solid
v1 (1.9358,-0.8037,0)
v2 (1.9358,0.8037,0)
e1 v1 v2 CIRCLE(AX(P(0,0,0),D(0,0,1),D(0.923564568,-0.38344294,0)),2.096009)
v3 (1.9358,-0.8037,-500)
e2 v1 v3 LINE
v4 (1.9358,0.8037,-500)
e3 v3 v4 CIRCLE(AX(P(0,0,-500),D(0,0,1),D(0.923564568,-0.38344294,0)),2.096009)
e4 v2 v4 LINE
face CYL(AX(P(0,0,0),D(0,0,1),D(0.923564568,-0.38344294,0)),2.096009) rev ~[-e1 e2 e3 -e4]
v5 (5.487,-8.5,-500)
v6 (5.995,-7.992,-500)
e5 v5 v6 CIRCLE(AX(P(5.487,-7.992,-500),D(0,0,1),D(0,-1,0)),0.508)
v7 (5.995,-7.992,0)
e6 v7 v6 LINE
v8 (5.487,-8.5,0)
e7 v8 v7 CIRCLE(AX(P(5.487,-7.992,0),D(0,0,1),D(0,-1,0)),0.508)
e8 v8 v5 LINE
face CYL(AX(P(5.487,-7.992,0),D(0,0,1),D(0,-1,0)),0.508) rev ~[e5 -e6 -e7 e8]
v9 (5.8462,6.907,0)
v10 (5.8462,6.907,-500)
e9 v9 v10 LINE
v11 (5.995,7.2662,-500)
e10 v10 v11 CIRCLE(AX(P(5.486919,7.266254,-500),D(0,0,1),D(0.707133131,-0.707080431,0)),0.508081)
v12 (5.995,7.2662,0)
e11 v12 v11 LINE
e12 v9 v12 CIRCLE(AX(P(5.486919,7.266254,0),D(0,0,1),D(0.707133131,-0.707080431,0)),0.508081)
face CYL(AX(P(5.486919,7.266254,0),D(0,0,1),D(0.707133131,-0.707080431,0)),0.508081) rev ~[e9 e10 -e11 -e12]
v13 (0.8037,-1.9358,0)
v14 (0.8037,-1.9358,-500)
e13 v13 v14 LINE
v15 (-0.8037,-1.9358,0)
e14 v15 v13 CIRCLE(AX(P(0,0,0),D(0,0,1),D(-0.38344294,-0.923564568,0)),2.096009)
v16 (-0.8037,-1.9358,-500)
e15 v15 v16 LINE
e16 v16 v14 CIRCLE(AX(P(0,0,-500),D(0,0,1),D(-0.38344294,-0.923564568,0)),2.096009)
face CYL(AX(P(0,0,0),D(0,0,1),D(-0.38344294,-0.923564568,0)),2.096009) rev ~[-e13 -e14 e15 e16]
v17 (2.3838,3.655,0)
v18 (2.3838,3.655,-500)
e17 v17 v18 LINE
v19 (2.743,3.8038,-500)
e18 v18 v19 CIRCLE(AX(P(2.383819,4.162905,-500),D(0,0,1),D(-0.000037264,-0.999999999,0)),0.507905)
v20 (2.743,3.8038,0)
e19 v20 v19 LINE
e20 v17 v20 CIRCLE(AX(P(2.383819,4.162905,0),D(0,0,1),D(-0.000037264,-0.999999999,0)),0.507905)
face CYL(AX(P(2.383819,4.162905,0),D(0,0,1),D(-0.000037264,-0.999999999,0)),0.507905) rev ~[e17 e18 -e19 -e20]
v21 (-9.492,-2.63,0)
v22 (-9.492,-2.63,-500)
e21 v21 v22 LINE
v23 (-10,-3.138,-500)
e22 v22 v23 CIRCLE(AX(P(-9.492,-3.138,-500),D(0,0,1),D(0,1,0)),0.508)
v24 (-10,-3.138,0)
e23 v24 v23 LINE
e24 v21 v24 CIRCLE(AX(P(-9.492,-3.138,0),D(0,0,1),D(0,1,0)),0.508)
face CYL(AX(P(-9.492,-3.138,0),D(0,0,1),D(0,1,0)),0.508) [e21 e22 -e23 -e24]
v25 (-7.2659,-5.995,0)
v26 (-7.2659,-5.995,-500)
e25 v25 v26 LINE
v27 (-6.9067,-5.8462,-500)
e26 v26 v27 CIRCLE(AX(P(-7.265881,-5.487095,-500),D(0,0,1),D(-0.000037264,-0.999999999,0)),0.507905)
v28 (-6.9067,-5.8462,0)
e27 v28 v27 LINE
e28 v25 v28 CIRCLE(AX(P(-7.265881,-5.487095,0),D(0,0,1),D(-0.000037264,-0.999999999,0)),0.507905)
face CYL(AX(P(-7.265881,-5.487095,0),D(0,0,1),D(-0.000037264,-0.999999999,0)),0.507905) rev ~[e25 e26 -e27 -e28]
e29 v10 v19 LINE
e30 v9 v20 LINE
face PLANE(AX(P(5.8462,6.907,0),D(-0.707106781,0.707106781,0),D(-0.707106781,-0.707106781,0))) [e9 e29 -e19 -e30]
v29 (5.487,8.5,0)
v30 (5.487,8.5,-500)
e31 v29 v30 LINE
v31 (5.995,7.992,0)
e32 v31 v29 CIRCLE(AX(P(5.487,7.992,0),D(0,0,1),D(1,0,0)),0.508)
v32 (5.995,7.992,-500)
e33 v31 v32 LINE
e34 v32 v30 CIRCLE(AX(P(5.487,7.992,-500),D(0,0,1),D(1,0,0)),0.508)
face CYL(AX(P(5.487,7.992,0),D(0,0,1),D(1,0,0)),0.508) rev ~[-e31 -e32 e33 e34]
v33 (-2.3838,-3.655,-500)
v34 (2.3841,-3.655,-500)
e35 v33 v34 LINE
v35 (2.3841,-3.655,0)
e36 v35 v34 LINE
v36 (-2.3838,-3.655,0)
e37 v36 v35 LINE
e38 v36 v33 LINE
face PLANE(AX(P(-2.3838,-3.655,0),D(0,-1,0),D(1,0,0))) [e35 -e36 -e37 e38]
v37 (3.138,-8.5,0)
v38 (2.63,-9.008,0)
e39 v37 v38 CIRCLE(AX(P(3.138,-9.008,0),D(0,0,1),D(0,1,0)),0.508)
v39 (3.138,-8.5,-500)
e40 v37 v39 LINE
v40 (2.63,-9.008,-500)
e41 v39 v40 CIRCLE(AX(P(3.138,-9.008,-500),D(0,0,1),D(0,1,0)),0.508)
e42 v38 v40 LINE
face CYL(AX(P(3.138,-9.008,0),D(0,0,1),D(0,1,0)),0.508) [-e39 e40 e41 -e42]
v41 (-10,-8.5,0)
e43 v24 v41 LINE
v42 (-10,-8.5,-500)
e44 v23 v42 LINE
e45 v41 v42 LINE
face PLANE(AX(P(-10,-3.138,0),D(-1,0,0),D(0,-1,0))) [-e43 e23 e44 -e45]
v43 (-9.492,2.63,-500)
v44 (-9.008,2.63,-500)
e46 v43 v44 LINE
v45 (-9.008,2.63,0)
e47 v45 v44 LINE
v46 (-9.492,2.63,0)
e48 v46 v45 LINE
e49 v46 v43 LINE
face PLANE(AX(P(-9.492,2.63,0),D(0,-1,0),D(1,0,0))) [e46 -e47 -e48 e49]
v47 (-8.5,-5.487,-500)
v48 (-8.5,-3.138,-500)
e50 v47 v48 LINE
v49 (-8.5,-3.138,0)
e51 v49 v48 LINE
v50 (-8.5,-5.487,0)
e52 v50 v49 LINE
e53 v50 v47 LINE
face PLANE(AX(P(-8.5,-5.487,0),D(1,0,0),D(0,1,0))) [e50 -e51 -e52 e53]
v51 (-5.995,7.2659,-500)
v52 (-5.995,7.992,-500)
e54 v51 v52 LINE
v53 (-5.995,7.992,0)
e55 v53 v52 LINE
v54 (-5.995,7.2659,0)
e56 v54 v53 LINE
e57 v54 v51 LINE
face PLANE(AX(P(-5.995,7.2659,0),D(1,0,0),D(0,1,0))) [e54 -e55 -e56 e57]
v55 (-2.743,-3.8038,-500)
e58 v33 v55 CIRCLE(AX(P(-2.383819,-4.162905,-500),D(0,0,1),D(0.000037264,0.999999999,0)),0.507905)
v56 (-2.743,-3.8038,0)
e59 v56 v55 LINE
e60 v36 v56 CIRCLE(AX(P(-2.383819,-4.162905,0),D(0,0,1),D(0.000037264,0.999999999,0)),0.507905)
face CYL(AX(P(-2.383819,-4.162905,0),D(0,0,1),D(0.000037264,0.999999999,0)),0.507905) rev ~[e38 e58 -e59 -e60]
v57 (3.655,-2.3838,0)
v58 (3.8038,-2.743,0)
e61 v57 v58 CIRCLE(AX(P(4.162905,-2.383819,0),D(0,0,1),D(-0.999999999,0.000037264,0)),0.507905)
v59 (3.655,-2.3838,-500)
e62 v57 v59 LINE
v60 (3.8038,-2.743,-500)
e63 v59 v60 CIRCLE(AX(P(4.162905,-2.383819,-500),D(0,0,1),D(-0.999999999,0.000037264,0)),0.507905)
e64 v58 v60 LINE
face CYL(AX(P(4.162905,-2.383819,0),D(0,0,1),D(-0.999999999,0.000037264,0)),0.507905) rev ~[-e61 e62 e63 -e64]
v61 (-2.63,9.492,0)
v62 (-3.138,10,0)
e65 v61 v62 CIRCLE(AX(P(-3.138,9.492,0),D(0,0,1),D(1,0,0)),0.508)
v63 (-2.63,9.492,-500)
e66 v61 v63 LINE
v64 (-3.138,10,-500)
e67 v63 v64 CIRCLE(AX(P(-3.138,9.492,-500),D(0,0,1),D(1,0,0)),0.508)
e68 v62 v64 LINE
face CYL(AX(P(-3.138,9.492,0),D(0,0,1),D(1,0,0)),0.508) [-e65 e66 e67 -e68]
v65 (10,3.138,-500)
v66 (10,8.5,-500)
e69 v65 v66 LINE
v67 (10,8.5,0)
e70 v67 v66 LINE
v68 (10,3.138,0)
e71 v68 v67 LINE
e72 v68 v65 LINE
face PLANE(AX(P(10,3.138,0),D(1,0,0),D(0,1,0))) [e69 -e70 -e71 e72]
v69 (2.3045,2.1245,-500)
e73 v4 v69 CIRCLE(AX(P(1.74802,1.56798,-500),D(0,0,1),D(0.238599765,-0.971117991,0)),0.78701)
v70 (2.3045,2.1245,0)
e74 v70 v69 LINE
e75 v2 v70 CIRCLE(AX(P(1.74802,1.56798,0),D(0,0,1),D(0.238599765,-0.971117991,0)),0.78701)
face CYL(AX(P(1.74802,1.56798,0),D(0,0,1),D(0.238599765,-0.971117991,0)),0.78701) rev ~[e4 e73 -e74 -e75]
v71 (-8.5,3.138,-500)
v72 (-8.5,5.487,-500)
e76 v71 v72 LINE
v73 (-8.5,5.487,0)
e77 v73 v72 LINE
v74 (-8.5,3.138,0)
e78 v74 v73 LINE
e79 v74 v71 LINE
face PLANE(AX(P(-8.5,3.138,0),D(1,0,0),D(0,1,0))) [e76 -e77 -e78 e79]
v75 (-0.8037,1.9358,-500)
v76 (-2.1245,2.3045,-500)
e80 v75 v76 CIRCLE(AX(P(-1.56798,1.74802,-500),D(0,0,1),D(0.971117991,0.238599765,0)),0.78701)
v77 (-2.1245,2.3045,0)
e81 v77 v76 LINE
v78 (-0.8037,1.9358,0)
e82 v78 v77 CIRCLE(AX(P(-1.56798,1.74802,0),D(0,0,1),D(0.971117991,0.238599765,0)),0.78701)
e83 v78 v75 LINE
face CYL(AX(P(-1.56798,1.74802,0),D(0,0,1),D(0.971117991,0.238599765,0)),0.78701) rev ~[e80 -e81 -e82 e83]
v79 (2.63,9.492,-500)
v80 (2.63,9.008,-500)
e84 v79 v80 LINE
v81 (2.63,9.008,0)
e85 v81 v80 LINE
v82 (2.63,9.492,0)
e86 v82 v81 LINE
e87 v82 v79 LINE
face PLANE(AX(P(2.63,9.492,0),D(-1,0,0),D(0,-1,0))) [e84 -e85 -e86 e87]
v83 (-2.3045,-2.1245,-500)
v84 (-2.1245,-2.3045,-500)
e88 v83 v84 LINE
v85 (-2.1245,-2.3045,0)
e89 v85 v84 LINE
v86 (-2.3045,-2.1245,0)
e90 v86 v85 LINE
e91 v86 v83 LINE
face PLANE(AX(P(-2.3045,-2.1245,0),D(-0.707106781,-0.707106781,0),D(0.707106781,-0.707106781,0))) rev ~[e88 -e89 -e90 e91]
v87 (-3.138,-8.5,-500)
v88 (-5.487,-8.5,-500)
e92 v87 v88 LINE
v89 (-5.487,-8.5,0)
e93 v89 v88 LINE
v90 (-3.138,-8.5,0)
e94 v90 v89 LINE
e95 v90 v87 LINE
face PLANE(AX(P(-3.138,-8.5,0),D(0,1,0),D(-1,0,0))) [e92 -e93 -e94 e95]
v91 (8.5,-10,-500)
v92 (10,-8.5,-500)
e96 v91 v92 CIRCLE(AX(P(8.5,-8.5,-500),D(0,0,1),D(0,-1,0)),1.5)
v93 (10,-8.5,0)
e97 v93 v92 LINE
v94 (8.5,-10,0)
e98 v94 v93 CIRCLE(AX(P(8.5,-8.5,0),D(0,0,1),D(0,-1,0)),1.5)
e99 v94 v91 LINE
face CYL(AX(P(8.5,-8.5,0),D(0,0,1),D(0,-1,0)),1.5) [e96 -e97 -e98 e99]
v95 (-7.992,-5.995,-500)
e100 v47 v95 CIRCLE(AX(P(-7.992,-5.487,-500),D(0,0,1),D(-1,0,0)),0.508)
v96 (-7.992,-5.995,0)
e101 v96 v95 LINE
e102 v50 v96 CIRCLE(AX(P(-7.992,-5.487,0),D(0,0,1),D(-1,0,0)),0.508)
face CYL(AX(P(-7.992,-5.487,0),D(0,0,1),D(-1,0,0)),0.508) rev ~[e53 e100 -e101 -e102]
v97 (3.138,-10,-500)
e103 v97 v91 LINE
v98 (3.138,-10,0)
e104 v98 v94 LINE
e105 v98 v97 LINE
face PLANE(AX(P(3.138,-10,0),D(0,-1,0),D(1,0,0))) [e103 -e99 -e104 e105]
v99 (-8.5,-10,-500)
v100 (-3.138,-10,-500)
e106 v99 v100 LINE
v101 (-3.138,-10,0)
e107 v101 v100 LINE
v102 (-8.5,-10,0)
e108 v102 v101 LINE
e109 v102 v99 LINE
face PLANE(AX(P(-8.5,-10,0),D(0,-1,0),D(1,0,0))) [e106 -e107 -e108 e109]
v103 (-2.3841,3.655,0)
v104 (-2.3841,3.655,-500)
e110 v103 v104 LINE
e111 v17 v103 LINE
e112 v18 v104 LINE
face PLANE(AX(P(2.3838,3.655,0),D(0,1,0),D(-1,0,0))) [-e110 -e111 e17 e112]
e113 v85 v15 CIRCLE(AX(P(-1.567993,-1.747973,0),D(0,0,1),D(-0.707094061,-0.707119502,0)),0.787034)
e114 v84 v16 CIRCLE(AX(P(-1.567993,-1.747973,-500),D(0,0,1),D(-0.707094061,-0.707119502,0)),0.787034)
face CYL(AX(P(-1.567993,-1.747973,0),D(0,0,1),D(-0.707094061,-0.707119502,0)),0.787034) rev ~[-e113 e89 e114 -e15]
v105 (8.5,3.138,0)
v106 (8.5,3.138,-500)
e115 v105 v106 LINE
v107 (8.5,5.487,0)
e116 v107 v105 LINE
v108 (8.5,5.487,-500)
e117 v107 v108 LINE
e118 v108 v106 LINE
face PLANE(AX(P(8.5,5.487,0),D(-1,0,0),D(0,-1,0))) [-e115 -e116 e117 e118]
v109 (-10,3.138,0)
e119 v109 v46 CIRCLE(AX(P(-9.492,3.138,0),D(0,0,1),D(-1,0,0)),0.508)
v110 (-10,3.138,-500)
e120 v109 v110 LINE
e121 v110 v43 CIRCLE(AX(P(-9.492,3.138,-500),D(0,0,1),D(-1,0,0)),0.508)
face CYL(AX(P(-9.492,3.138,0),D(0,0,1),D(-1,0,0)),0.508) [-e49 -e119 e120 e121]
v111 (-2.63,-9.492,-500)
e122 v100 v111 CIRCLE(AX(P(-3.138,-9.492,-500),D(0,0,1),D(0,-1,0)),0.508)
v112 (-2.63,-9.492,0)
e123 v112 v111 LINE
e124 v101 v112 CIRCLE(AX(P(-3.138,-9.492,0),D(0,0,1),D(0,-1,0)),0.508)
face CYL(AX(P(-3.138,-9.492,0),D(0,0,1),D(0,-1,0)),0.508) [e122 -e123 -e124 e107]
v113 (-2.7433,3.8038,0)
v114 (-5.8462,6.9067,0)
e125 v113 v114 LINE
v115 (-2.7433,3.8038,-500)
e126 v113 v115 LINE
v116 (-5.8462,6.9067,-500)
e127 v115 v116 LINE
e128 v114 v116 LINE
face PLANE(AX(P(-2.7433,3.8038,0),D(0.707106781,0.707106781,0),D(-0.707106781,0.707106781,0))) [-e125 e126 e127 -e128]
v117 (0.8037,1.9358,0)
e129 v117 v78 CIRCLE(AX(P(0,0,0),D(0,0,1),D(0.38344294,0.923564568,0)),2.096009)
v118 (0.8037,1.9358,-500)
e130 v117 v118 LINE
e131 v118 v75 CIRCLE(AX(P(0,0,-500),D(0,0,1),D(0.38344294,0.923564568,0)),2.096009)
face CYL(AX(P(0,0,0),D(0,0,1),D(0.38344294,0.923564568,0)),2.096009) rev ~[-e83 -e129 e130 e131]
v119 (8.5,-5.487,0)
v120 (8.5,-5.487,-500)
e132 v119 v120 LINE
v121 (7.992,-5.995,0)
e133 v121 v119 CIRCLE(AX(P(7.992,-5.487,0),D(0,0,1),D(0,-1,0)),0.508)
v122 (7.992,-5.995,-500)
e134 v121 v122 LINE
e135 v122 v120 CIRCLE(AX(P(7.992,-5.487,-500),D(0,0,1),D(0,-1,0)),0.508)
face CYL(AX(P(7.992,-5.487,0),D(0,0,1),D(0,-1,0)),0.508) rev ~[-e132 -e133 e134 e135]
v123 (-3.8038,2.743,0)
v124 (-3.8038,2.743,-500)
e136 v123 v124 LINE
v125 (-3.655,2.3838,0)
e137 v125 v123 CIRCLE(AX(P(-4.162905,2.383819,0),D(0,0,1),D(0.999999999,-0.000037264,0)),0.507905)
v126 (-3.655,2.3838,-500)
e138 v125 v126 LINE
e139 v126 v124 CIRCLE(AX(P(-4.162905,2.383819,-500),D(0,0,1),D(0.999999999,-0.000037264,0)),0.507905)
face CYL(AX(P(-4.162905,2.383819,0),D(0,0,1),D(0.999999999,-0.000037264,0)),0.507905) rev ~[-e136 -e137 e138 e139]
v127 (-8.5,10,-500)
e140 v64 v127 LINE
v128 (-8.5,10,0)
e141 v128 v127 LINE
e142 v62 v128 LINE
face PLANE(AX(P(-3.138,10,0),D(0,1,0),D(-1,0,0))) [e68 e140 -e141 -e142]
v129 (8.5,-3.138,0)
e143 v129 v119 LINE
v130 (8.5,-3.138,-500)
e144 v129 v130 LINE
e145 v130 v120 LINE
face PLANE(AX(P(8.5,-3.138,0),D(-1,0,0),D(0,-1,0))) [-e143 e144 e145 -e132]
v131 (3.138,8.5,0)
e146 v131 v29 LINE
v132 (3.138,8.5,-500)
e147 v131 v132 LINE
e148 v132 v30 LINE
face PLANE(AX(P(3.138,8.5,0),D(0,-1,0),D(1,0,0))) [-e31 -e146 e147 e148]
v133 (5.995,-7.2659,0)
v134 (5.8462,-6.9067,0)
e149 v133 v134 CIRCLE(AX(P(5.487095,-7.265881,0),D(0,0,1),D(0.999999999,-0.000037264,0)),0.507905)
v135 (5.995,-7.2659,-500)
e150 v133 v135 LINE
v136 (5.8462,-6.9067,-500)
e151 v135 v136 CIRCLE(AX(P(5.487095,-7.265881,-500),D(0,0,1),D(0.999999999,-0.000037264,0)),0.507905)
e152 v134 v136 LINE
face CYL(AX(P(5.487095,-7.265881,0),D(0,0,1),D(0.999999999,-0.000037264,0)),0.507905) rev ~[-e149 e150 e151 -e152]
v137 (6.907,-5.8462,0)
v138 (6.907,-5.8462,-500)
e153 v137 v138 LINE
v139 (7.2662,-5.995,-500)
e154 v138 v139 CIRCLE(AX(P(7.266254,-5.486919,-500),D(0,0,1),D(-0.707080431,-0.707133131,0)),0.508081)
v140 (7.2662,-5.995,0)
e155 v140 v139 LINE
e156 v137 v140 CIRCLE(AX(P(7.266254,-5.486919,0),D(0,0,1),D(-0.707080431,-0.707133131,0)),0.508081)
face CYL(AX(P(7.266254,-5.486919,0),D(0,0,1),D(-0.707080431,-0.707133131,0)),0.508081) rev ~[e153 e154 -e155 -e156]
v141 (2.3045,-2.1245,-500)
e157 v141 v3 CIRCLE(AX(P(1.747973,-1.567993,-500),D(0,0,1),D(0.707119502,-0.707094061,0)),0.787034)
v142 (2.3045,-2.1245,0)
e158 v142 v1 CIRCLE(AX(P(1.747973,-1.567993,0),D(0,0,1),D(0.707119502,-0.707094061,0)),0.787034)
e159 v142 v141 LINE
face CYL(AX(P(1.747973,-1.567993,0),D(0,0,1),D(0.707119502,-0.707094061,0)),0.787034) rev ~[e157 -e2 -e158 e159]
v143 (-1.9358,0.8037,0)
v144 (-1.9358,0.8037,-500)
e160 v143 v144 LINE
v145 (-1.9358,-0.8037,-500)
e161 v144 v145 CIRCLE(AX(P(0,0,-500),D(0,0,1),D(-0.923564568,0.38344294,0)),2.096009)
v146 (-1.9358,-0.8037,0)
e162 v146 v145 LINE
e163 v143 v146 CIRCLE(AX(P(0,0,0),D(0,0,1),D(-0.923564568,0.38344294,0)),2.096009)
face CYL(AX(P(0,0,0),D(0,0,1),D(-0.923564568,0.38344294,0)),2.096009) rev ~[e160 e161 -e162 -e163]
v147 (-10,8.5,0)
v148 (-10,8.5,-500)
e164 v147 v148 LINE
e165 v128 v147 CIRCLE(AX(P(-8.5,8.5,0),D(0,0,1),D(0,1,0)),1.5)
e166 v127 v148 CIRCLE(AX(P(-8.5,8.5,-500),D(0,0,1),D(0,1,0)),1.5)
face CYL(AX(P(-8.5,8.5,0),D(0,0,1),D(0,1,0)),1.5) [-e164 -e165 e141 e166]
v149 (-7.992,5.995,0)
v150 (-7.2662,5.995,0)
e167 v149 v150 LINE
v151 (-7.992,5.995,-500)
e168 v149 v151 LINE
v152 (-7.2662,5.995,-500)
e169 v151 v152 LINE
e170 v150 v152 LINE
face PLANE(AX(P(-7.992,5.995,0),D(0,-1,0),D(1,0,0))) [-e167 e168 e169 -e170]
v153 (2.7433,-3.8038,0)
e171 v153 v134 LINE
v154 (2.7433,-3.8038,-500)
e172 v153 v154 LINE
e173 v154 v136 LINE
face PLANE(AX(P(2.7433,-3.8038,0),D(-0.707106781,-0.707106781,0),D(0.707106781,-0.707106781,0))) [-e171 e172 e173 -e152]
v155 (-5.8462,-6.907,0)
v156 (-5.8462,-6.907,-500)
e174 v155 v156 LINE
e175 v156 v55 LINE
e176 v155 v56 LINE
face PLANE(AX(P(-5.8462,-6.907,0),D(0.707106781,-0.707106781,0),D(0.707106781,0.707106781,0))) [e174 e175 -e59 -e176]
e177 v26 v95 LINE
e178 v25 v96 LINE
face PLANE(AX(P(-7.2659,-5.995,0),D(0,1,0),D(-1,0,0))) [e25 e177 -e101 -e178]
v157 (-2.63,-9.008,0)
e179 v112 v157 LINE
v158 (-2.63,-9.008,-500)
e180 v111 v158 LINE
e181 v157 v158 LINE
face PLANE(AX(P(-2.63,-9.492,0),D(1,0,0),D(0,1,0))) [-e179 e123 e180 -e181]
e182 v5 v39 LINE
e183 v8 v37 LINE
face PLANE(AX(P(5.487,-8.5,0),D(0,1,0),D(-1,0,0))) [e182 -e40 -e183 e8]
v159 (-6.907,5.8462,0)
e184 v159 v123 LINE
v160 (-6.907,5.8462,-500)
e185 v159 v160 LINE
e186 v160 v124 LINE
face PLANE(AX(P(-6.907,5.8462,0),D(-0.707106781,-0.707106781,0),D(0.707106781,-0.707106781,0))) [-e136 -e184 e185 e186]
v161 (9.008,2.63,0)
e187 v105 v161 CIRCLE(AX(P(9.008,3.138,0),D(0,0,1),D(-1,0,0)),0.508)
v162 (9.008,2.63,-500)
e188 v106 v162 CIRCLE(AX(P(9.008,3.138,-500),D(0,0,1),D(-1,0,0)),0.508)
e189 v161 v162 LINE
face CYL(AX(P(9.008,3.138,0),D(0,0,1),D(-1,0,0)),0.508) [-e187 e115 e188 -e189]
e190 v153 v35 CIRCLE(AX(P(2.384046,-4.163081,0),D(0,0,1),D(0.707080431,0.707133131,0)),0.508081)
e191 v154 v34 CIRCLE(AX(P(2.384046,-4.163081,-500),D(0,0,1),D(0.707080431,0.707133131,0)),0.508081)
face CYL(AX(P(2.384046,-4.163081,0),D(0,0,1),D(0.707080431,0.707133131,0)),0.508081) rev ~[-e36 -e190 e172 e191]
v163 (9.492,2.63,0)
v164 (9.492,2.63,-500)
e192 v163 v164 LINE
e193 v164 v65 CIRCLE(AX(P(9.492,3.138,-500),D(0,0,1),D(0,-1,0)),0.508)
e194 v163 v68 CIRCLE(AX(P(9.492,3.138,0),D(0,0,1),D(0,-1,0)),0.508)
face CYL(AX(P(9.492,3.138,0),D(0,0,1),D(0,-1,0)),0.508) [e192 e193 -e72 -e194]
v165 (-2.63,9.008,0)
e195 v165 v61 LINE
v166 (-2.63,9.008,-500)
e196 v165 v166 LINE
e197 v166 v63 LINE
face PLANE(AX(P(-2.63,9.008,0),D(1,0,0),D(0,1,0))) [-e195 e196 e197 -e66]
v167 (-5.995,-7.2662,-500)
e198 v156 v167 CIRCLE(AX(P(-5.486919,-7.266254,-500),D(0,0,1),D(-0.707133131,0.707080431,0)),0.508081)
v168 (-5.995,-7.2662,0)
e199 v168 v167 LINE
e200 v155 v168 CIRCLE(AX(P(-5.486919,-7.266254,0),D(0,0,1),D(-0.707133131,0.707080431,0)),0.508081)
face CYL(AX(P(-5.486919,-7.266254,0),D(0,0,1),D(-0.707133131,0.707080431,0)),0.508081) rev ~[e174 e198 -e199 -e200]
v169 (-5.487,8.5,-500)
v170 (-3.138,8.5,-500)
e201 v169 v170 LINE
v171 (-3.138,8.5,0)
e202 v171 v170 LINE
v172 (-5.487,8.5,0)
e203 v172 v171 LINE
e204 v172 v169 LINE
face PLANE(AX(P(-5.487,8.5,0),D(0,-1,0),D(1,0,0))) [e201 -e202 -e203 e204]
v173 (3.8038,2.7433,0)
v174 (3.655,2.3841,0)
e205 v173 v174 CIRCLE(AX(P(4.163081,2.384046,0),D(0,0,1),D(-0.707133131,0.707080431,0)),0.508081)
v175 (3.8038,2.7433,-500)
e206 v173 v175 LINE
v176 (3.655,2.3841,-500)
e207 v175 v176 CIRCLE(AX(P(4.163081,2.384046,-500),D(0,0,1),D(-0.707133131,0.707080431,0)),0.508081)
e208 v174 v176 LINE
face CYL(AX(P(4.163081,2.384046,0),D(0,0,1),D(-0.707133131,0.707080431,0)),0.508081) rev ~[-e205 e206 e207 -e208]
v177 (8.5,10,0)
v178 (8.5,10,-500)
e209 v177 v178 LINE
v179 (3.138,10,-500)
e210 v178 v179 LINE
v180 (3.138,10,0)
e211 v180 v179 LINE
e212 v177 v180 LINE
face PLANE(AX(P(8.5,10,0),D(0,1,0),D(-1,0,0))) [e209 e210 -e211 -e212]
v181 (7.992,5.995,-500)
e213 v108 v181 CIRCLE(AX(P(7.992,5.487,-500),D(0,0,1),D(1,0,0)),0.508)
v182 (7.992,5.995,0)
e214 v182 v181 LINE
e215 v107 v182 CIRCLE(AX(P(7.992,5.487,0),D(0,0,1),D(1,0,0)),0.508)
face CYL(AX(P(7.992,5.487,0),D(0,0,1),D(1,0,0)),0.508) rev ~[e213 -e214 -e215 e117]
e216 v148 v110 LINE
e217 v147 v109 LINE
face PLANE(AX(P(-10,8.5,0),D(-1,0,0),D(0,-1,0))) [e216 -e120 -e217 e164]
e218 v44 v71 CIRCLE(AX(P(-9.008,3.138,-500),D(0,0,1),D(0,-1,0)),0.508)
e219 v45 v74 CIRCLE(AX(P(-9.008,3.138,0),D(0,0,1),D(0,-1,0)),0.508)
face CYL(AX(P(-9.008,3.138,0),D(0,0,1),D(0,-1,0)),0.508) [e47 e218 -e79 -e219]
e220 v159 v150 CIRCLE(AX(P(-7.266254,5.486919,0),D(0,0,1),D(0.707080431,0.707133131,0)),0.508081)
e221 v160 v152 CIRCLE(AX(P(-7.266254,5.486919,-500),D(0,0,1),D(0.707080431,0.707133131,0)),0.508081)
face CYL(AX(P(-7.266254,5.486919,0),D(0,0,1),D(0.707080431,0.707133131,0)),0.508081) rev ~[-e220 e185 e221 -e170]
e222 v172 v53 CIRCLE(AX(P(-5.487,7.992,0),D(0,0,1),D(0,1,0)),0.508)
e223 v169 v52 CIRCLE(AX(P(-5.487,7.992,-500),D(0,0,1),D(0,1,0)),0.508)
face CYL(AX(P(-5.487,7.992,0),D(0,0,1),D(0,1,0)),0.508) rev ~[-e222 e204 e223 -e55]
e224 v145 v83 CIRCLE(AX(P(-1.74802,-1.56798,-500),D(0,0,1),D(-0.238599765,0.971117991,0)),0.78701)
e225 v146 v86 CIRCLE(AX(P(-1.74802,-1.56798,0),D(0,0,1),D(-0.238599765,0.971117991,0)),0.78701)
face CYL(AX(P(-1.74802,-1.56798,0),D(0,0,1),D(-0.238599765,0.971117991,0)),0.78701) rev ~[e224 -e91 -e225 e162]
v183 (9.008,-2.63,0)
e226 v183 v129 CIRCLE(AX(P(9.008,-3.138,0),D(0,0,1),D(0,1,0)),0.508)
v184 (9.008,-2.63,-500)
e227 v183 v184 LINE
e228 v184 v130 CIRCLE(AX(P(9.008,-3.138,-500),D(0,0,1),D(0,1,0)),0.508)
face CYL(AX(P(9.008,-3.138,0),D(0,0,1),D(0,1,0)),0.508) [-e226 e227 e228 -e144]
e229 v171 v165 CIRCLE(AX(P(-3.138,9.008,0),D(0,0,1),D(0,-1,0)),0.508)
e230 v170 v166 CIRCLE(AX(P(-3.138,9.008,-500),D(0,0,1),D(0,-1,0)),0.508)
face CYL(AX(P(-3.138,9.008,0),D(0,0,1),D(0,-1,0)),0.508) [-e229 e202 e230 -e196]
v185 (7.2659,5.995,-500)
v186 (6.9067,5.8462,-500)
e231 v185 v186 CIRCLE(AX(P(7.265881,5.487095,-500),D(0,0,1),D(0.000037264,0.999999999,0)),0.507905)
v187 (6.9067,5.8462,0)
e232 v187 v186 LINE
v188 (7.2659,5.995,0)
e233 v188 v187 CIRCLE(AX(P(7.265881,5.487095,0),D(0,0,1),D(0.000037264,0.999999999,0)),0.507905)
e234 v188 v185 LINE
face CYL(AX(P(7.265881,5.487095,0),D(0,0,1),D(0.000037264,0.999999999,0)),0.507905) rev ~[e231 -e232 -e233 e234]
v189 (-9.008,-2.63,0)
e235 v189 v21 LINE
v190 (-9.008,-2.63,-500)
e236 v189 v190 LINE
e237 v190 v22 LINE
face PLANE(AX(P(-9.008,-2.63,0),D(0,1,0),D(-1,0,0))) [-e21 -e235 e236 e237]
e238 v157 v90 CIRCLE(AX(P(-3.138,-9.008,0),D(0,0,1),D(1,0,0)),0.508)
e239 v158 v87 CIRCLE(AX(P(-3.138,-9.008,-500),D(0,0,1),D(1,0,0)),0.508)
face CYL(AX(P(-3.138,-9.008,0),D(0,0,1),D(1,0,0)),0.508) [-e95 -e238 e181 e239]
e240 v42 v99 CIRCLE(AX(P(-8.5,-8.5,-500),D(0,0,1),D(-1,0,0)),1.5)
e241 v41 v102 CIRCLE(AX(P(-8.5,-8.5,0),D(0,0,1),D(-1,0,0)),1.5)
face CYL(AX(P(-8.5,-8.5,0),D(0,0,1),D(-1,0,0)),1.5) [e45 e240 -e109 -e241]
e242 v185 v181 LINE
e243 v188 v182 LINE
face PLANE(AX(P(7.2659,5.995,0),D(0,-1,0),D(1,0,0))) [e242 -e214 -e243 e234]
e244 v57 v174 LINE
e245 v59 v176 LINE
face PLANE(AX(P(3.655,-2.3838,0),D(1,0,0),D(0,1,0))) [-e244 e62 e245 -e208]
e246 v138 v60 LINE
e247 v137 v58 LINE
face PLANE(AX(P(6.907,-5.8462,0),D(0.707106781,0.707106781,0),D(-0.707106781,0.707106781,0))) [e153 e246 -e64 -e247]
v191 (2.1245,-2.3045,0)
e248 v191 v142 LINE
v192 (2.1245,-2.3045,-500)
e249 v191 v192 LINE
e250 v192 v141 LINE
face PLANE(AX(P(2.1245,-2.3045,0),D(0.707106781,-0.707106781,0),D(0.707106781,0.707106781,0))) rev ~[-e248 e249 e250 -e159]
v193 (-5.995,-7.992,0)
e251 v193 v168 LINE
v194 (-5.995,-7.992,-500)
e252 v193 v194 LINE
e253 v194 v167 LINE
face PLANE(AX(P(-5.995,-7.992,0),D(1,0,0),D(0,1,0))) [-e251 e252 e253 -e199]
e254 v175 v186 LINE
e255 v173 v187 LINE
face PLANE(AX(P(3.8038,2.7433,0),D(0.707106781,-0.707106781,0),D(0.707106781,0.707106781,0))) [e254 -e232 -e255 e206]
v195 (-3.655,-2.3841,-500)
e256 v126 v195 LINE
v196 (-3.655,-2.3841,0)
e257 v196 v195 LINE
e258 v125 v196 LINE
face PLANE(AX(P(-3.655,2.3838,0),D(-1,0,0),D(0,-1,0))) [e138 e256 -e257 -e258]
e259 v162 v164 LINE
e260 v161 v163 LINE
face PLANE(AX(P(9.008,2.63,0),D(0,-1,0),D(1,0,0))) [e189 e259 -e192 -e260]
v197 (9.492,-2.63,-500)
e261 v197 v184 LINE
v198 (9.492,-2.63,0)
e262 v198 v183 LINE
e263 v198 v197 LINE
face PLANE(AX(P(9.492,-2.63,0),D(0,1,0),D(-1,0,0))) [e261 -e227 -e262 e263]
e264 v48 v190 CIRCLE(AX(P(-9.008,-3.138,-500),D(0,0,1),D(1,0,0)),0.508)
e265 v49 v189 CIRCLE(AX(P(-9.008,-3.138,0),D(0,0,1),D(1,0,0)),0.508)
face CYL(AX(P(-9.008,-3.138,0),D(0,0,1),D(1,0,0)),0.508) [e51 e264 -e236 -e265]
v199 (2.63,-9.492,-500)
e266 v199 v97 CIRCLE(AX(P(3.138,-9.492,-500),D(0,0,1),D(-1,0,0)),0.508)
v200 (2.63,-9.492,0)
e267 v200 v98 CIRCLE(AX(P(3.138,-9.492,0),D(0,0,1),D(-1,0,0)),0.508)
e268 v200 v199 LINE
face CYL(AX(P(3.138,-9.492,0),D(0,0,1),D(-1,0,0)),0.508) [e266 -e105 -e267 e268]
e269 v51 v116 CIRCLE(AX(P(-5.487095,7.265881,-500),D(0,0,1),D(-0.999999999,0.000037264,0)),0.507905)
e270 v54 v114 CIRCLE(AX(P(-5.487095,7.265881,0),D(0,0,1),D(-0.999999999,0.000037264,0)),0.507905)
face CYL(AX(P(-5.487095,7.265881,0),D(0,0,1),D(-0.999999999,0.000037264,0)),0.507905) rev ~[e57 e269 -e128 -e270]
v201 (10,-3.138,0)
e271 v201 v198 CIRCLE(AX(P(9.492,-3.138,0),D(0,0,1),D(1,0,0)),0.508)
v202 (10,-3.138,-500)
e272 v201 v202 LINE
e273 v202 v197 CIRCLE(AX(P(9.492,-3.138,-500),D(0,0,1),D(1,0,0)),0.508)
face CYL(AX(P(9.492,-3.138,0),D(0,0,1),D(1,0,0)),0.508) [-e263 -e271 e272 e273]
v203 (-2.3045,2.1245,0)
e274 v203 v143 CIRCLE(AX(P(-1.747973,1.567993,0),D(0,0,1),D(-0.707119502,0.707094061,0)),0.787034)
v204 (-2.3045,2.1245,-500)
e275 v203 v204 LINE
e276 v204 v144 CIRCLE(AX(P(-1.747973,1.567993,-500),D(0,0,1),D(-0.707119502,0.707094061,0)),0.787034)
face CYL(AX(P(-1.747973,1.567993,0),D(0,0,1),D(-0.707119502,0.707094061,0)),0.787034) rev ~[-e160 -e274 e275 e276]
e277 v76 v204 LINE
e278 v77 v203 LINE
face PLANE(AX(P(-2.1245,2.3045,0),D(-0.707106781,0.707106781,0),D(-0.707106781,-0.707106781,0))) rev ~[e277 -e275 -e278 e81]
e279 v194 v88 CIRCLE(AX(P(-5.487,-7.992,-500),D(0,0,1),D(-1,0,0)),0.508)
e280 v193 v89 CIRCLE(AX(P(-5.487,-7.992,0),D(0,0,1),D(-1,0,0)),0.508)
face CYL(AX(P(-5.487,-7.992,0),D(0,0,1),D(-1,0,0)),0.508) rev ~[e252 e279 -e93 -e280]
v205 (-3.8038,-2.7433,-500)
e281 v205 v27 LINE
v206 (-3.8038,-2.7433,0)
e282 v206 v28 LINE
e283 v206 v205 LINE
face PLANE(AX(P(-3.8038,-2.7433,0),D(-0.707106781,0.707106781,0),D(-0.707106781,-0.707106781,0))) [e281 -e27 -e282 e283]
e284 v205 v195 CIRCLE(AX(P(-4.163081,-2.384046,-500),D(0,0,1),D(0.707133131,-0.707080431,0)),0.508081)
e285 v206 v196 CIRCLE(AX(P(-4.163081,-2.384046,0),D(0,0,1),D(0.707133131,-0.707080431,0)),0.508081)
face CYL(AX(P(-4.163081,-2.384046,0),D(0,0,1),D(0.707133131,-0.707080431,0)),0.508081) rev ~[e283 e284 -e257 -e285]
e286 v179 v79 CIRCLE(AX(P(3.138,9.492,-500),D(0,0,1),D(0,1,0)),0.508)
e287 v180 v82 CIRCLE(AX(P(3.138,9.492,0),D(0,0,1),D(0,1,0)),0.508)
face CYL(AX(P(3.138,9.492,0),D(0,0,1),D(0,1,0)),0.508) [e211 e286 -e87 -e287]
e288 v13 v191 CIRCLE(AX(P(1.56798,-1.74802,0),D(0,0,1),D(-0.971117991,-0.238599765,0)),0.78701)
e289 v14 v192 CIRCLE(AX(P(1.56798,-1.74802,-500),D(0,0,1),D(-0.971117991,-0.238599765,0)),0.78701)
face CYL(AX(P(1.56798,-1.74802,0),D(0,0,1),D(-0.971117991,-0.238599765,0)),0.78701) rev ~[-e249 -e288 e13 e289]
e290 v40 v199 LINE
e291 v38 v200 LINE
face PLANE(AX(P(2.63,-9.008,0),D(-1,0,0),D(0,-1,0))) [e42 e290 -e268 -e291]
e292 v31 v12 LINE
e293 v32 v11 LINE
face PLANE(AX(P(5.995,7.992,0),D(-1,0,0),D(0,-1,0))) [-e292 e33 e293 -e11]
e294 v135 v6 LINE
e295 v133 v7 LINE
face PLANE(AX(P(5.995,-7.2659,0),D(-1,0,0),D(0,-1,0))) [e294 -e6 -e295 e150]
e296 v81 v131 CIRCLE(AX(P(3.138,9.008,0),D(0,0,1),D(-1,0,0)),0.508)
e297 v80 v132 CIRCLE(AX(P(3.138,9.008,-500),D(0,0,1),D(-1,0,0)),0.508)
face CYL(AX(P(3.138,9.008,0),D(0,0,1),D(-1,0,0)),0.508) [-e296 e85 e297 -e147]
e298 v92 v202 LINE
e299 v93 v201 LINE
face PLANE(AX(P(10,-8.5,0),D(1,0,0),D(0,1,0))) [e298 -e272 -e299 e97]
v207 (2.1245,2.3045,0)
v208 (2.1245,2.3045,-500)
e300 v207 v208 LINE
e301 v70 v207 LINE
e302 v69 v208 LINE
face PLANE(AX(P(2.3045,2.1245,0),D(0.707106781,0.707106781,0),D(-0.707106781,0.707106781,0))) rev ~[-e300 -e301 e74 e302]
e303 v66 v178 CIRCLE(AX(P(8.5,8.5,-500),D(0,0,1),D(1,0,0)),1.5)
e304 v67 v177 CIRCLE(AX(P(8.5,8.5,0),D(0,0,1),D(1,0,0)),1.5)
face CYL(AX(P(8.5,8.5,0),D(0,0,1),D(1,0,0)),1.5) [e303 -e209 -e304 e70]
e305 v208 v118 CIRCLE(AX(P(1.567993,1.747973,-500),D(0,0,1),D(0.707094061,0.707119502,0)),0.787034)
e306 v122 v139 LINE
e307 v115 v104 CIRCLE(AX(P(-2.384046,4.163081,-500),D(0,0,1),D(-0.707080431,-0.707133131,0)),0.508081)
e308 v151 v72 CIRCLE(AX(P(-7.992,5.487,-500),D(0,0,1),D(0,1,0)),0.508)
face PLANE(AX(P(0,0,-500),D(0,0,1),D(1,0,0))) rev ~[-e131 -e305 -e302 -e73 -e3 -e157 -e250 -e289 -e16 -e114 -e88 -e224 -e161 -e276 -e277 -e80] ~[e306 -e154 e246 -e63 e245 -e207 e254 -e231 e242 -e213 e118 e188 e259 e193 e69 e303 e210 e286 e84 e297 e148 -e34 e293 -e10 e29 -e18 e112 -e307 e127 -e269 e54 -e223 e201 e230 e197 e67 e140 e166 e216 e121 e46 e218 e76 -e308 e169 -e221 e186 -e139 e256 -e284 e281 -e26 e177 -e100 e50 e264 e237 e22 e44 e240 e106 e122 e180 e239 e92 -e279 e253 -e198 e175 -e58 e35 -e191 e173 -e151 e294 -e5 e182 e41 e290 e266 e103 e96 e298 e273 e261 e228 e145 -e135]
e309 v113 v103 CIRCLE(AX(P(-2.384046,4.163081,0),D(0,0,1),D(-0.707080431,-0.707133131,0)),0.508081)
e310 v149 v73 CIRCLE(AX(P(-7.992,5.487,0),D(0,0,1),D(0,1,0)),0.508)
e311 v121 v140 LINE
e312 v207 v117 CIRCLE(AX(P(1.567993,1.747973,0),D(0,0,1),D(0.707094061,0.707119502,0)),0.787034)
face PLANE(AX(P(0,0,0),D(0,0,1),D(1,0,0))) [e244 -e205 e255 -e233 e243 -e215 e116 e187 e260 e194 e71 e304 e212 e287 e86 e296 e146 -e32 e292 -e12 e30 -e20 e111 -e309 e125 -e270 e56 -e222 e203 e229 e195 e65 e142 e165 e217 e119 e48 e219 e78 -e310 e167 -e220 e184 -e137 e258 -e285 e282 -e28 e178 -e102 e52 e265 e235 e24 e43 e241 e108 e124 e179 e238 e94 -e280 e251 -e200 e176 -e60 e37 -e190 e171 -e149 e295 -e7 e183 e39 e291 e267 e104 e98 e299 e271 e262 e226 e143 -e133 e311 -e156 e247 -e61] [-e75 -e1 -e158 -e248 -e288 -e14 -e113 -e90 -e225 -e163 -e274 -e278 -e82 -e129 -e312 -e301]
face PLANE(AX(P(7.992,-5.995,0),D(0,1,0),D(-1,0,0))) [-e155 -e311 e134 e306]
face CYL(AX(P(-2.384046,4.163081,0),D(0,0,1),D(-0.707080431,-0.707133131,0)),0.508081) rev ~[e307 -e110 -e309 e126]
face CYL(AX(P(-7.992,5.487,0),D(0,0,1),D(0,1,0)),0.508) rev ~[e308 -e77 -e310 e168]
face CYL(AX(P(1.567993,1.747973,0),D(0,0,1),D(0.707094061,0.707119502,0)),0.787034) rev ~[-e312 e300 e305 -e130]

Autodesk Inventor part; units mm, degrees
ref_plane "YZ Plane" through (0, 0, 0) normal (1, 0, 0) x (0, 1, 0)
ref_plane "XZ Plane" through (0, 0, 0) normal (0, 1, 0) x (-1, 0, 0)
ref_plane "XY Plane" through (0, 0, 0) normal (0, 0, 1) x (1, 0, 0)
sketch "Sketch_1" plane through (0, 0, 0) normal (0, 0, 1) x (1, 0, 0)
  arc A0 (-10, -8.5) -> (-8.5, -10) centre (-8.5, -8.5) ccw
  line L0 (-8.5, -10) -> (-3.138, -10)
  arc A1 (-3.138, -10) -> (-2.63, -9.492) centre (-3.138, -9.492) ccw
  line L1 (-2.63, -9.492) -> (-2.63, -9.008)
  arc A2 (-2.63, -9.008) -> (-3.138, -8.5) centre (-3.138, -9.008) ccw
  line L2 (-3.138, -8.5) -> (-5.487, -8.5)
  arc A3 (-5.995, -7.992) -> (-5.487, -8.5) centre (-5.487, -7.992) ccw
  line L3 (-5.995, -7.992) -> (-5.995, -7.2662)
  arc A4 (-5.8462, -6.907) -> (-5.995, -7.2662) centre (-5.487, -7.2662) ccw
  line L4 (-5.8462, -6.907) -> (-2.743, -3.8038)
  arc A5 (-2.3838, -3.655) -> (-2.743, -3.8038) centre (-2.3838, -4.163) ccw
  line L5 (-2.3838, -3.655) -> (2.3841, -3.655)
  arc A6 (2.7433, -3.8038) -> (2.3841, -3.655) centre (2.3841, -4.163) ccw
  line L6 (2.7433, -3.8038) -> (5.8462, -6.9067)
  arc A7 (5.995, -7.2659) -> (5.8462, -6.9067) centre (5.487, -7.2659) ccw
  line L7 (5.995, -7.2659) -> (5.995, -7.992)
  arc A8 (5.487, -8.5) -> (5.995, -7.992) centre (5.487, -7.992) ccw
  line L8 (5.487, -8.5) -> (3.138, -8.5)
  arc A9 (3.138, -8.5) -> (2.63, -9.008) centre (3.138, -9.008) ccw
  line L9 (2.63, -9.008) -> (2.63, -9.492)
  arc A10 (2.63, -9.492) -> (3.138, -10) centre (3.138, -9.492) ccw
  line L10 (3.138, -10) -> (8.5, -10)
  arc A11 (8.5, -10) -> (10, -8.5) centre (8.5, -8.5) ccw
  line L11 (10, -8.5) -> (10, -3.138)
  arc A12 (10, -3.138) -> (9.492, -2.63) centre (9.492, -3.138) ccw
  line L12 (9.492, -2.63) -> (9.008, -2.63)
  arc A13 (9.008, -2.63) -> (8.5, -3.138) centre (9.008, -3.138) ccw
  line L13 (8.5, -3.138) -> (8.5, -5.487)
  arc A14 (7.992, -5.995) -> (8.5, -5.487) centre (7.992, -5.487) ccw
  line L14 (7.992, -5.995) -> (7.2662, -5.995)
  arc A15 (6.907, -5.8462) -> (7.2662, -5.995) centre (7.2662, -5.487) ccw
  line L15 (6.907, -5.8462) -> (3.8038, -2.743)
  arc A16 (3.655, -2.3838) -> (3.8038, -2.743) centre (4.163, -2.3838) ccw
  line L16 (3.655, -2.3838) -> (3.655, 2.3841)
  arc A17 (3.8038, 2.7433) -> (3.655, 2.3841) centre (4.163, 2.3841) ccw
  line L17 (3.8038, 2.7433) -> (6.9067, 5.8462)
  arc A18 (7.2659, 5.995) -> (6.9067, 5.8462) centre (7.2659, 5.487) ccw
  line L18 (7.2659, 5.995) -> (7.992, 5.995)
  arc A19 (8.5, 5.487) -> (7.992, 5.995) centre (7.992, 5.487) ccw
  line L19 (8.5, 5.487) -> (8.5, 3.138)
  arc A20 (8.5, 3.138) -> (9.008, 2.63) centre (9.008, 3.138) ccw
  line L20 (9.008, 2.63) -> (9.492, 2.63)
  arc A21 (9.492, 2.63) -> (10, 3.138) centre (9.492, 3.138) ccw
  line L21 (10, 3.138) -> (10, 8.5)
  arc A22 (10, 8.5) -> (8.5, 10) centre (8.5, 8.5) ccw
  line L22 (8.5, 10) -> (3.138, 10)
  arc A23 (3.138, 10) -> (2.63, 9.492) centre (3.138, 9.492) ccw
  line L23 (2.63, 9.492) -> (2.63, 9.008)
  arc A24 (2.63, 9.008) -> (3.138, 8.5) centre (3.138, 9.008) ccw
  line L24 (3.138, 8.5) -> (5.487, 8.5)
  arc A25 (5.995, 7.992) -> (5.487, 8.5) centre (5.487, 7.992) ccw
  line L25 (5.995, 7.992) -> (5.995, 7.2662)
  arc A26 (5.8462, 6.907) -> (5.995, 7.2662) centre (5.487, 7.2662) ccw
  line L26 (5.8462, 6.907) -> (2.743, 3.8038)
  arc A27 (2.3838, 3.655) -> (2.743, 3.8038) centre (2.3838, 4.163) ccw
  line L27 (2.3838, 3.655) -> (-2.3841, 3.655)
  arc A28 (-2.7433, 3.8038) -> (-2.3841, 3.655) centre (-2.3841, 4.163) ccw
  line L28 (-2.7433, 3.8038) -> (-5.8462, 6.9067)
  arc A29 (-5.995, 7.2659) -> (-5.8462, 6.9067) centre (-5.487, 7.2659) ccw
  line L29 (-5.995, 7.2659) -> (-5.995, 7.992)
  arc A30 (-5.487, 8.5) -> (-5.995, 7.992) centre (-5.487, 7.992) ccw
  line L30 (-5.487, 8.5) -> (-3.138, 8.5)
  arc A31 (-3.138, 8.5) -> (-2.63, 9.008) centre (-3.138, 9.008) ccw
  line L31 (-2.63, 9.008) -> (-2.63, 9.492)
  arc A32 (-2.63, 9.492) -> (-3.138, 10) centre (-3.138, 9.492) ccw
  line L32 (-3.138, 10) -> (-8.5, 10)
  arc A33 (-8.5, 10) -> (-10, 8.5) centre (-8.5, 8.5) ccw
  line L33 (-10, 8.5) -> (-10, 3.138)
  arc A34 (-10, 3.138) -> (-9.492, 2.63) centre (-9.492, 3.138) ccw
  line L34 (-9.492, 2.63) -> (-9.008, 2.63)
  arc A35 (-9.008, 2.63) -> (-8.5, 3.138) centre (-9.008, 3.138) ccw
  line L35 (-8.5, 3.138) -> (-8.5, 5.487)
  arc A36 (-7.992, 5.995) -> (-8.5, 5.487) centre (-7.992, 5.487) ccw
  line L36 (-7.992, 5.995) -> (-7.2662, 5.995)
  arc A37 (-6.907, 5.8462) -> (-7.2662, 5.995) centre (-7.2662, 5.487) ccw
  line L37 (-6.907, 5.8462) -> (-3.8038, 2.743)
  arc A38 (-3.655, 2.3838) -> (-3.8038, 2.743) centre (-4.163, 2.3838) ccw
  line L38 (-3.655, 2.3838) -> (-3.655, -2.3841)
  arc A39 (-3.8038, -2.7433) -> (-3.655, -2.3841) centre (-4.163, -2.3841) ccw
  line L39 (-3.8038, -2.7433) -> (-6.9067, -5.8462)
  arc A40 (-7.2659, -5.995) -> (-6.9067, -5.8462) centre (-7.2659, -5.487) ccw
  line L40 (-7.2659, -5.995) -> (-7.992, -5.995)
  arc A41 (-8.5, -5.487) -> (-7.992, -5.995) centre (-7.992, -5.487) ccw
  line L41 (-8.5, -5.487) -> (-8.5, -3.138)
  arc A42 (-8.5, -3.138) -> (-9.008, -2.63) centre (-9.008, -3.138) ccw
  line L42 (-9.008, -2.63) -> (-9.492, -2.63)
  arc A43 (-9.492, -2.63) -> (-10, -3.138) centre (-9.492, -3.138) ccw
  line L43 (-10, -3.138) -> (-10, -8.5)
  arc A44 (-1.9358, -0.8037) -> (-2.3045, -2.1245) centre (-1.748, -1.568) ccw
  line L44 (-2.3045, -2.1245) -> (-2.1245, -2.3045)
  arc A45 (-2.1245, -2.3045) -> (-0.8037, -1.9358) centre (-1.568, -1.748) ccw
  arc A46 (-0.8037, -1.9358) -> (0.8037, -1.9358) centre (0, 0) ccw
  arc A47 (0.8037, -1.9358) -> (2.1245, -2.3045) centre (1.568, -1.748) ccw
  line L45 (2.1245, -2.3045) -> (2.3045, -2.1245)
  arc A48 (2.3045, -2.1245) -> (1.9358, -0.8037) centre (1.748, -1.568) ccw
  arc A49 (1.9358, -0.8037) -> (1.9358, 0.8037) centre (0, 0) ccw
  arc A50 (1.9358, 0.8037) -> (2.3045, 2.1245) centre (1.748, 1.568) ccw
  line L46 (2.3045, 2.1245) -> (2.1245, 2.3045)
  arc A51 (2.1245, 2.3045) -> (0.8037, 1.9358) centre (1.568, 1.748) ccw
  arc A52 (0.8037, 1.9358) -> (-0.8037, 1.9358) centre (0, 0) ccw
  arc A53 (-0.8037, 1.9358) -> (-2.1245, 2.3045) centre (-1.568, 1.748) ccw
  line L47 (-2.1245, 2.3045) -> (-2.3045, 2.1245)
  arc A54 (-2.3045, 2.1245) -> (-1.9358, 0.8037) centre (-1.748, 1.568) ccw
  arc A55 (-1.9358, 0.8037) -> (-1.9358, -0.8037) centre (0, 0) ccw
extrude "Extrusion1" add sketch "Sketch_1" against normal blind 500
properties part number "20-2020-500-CL"
